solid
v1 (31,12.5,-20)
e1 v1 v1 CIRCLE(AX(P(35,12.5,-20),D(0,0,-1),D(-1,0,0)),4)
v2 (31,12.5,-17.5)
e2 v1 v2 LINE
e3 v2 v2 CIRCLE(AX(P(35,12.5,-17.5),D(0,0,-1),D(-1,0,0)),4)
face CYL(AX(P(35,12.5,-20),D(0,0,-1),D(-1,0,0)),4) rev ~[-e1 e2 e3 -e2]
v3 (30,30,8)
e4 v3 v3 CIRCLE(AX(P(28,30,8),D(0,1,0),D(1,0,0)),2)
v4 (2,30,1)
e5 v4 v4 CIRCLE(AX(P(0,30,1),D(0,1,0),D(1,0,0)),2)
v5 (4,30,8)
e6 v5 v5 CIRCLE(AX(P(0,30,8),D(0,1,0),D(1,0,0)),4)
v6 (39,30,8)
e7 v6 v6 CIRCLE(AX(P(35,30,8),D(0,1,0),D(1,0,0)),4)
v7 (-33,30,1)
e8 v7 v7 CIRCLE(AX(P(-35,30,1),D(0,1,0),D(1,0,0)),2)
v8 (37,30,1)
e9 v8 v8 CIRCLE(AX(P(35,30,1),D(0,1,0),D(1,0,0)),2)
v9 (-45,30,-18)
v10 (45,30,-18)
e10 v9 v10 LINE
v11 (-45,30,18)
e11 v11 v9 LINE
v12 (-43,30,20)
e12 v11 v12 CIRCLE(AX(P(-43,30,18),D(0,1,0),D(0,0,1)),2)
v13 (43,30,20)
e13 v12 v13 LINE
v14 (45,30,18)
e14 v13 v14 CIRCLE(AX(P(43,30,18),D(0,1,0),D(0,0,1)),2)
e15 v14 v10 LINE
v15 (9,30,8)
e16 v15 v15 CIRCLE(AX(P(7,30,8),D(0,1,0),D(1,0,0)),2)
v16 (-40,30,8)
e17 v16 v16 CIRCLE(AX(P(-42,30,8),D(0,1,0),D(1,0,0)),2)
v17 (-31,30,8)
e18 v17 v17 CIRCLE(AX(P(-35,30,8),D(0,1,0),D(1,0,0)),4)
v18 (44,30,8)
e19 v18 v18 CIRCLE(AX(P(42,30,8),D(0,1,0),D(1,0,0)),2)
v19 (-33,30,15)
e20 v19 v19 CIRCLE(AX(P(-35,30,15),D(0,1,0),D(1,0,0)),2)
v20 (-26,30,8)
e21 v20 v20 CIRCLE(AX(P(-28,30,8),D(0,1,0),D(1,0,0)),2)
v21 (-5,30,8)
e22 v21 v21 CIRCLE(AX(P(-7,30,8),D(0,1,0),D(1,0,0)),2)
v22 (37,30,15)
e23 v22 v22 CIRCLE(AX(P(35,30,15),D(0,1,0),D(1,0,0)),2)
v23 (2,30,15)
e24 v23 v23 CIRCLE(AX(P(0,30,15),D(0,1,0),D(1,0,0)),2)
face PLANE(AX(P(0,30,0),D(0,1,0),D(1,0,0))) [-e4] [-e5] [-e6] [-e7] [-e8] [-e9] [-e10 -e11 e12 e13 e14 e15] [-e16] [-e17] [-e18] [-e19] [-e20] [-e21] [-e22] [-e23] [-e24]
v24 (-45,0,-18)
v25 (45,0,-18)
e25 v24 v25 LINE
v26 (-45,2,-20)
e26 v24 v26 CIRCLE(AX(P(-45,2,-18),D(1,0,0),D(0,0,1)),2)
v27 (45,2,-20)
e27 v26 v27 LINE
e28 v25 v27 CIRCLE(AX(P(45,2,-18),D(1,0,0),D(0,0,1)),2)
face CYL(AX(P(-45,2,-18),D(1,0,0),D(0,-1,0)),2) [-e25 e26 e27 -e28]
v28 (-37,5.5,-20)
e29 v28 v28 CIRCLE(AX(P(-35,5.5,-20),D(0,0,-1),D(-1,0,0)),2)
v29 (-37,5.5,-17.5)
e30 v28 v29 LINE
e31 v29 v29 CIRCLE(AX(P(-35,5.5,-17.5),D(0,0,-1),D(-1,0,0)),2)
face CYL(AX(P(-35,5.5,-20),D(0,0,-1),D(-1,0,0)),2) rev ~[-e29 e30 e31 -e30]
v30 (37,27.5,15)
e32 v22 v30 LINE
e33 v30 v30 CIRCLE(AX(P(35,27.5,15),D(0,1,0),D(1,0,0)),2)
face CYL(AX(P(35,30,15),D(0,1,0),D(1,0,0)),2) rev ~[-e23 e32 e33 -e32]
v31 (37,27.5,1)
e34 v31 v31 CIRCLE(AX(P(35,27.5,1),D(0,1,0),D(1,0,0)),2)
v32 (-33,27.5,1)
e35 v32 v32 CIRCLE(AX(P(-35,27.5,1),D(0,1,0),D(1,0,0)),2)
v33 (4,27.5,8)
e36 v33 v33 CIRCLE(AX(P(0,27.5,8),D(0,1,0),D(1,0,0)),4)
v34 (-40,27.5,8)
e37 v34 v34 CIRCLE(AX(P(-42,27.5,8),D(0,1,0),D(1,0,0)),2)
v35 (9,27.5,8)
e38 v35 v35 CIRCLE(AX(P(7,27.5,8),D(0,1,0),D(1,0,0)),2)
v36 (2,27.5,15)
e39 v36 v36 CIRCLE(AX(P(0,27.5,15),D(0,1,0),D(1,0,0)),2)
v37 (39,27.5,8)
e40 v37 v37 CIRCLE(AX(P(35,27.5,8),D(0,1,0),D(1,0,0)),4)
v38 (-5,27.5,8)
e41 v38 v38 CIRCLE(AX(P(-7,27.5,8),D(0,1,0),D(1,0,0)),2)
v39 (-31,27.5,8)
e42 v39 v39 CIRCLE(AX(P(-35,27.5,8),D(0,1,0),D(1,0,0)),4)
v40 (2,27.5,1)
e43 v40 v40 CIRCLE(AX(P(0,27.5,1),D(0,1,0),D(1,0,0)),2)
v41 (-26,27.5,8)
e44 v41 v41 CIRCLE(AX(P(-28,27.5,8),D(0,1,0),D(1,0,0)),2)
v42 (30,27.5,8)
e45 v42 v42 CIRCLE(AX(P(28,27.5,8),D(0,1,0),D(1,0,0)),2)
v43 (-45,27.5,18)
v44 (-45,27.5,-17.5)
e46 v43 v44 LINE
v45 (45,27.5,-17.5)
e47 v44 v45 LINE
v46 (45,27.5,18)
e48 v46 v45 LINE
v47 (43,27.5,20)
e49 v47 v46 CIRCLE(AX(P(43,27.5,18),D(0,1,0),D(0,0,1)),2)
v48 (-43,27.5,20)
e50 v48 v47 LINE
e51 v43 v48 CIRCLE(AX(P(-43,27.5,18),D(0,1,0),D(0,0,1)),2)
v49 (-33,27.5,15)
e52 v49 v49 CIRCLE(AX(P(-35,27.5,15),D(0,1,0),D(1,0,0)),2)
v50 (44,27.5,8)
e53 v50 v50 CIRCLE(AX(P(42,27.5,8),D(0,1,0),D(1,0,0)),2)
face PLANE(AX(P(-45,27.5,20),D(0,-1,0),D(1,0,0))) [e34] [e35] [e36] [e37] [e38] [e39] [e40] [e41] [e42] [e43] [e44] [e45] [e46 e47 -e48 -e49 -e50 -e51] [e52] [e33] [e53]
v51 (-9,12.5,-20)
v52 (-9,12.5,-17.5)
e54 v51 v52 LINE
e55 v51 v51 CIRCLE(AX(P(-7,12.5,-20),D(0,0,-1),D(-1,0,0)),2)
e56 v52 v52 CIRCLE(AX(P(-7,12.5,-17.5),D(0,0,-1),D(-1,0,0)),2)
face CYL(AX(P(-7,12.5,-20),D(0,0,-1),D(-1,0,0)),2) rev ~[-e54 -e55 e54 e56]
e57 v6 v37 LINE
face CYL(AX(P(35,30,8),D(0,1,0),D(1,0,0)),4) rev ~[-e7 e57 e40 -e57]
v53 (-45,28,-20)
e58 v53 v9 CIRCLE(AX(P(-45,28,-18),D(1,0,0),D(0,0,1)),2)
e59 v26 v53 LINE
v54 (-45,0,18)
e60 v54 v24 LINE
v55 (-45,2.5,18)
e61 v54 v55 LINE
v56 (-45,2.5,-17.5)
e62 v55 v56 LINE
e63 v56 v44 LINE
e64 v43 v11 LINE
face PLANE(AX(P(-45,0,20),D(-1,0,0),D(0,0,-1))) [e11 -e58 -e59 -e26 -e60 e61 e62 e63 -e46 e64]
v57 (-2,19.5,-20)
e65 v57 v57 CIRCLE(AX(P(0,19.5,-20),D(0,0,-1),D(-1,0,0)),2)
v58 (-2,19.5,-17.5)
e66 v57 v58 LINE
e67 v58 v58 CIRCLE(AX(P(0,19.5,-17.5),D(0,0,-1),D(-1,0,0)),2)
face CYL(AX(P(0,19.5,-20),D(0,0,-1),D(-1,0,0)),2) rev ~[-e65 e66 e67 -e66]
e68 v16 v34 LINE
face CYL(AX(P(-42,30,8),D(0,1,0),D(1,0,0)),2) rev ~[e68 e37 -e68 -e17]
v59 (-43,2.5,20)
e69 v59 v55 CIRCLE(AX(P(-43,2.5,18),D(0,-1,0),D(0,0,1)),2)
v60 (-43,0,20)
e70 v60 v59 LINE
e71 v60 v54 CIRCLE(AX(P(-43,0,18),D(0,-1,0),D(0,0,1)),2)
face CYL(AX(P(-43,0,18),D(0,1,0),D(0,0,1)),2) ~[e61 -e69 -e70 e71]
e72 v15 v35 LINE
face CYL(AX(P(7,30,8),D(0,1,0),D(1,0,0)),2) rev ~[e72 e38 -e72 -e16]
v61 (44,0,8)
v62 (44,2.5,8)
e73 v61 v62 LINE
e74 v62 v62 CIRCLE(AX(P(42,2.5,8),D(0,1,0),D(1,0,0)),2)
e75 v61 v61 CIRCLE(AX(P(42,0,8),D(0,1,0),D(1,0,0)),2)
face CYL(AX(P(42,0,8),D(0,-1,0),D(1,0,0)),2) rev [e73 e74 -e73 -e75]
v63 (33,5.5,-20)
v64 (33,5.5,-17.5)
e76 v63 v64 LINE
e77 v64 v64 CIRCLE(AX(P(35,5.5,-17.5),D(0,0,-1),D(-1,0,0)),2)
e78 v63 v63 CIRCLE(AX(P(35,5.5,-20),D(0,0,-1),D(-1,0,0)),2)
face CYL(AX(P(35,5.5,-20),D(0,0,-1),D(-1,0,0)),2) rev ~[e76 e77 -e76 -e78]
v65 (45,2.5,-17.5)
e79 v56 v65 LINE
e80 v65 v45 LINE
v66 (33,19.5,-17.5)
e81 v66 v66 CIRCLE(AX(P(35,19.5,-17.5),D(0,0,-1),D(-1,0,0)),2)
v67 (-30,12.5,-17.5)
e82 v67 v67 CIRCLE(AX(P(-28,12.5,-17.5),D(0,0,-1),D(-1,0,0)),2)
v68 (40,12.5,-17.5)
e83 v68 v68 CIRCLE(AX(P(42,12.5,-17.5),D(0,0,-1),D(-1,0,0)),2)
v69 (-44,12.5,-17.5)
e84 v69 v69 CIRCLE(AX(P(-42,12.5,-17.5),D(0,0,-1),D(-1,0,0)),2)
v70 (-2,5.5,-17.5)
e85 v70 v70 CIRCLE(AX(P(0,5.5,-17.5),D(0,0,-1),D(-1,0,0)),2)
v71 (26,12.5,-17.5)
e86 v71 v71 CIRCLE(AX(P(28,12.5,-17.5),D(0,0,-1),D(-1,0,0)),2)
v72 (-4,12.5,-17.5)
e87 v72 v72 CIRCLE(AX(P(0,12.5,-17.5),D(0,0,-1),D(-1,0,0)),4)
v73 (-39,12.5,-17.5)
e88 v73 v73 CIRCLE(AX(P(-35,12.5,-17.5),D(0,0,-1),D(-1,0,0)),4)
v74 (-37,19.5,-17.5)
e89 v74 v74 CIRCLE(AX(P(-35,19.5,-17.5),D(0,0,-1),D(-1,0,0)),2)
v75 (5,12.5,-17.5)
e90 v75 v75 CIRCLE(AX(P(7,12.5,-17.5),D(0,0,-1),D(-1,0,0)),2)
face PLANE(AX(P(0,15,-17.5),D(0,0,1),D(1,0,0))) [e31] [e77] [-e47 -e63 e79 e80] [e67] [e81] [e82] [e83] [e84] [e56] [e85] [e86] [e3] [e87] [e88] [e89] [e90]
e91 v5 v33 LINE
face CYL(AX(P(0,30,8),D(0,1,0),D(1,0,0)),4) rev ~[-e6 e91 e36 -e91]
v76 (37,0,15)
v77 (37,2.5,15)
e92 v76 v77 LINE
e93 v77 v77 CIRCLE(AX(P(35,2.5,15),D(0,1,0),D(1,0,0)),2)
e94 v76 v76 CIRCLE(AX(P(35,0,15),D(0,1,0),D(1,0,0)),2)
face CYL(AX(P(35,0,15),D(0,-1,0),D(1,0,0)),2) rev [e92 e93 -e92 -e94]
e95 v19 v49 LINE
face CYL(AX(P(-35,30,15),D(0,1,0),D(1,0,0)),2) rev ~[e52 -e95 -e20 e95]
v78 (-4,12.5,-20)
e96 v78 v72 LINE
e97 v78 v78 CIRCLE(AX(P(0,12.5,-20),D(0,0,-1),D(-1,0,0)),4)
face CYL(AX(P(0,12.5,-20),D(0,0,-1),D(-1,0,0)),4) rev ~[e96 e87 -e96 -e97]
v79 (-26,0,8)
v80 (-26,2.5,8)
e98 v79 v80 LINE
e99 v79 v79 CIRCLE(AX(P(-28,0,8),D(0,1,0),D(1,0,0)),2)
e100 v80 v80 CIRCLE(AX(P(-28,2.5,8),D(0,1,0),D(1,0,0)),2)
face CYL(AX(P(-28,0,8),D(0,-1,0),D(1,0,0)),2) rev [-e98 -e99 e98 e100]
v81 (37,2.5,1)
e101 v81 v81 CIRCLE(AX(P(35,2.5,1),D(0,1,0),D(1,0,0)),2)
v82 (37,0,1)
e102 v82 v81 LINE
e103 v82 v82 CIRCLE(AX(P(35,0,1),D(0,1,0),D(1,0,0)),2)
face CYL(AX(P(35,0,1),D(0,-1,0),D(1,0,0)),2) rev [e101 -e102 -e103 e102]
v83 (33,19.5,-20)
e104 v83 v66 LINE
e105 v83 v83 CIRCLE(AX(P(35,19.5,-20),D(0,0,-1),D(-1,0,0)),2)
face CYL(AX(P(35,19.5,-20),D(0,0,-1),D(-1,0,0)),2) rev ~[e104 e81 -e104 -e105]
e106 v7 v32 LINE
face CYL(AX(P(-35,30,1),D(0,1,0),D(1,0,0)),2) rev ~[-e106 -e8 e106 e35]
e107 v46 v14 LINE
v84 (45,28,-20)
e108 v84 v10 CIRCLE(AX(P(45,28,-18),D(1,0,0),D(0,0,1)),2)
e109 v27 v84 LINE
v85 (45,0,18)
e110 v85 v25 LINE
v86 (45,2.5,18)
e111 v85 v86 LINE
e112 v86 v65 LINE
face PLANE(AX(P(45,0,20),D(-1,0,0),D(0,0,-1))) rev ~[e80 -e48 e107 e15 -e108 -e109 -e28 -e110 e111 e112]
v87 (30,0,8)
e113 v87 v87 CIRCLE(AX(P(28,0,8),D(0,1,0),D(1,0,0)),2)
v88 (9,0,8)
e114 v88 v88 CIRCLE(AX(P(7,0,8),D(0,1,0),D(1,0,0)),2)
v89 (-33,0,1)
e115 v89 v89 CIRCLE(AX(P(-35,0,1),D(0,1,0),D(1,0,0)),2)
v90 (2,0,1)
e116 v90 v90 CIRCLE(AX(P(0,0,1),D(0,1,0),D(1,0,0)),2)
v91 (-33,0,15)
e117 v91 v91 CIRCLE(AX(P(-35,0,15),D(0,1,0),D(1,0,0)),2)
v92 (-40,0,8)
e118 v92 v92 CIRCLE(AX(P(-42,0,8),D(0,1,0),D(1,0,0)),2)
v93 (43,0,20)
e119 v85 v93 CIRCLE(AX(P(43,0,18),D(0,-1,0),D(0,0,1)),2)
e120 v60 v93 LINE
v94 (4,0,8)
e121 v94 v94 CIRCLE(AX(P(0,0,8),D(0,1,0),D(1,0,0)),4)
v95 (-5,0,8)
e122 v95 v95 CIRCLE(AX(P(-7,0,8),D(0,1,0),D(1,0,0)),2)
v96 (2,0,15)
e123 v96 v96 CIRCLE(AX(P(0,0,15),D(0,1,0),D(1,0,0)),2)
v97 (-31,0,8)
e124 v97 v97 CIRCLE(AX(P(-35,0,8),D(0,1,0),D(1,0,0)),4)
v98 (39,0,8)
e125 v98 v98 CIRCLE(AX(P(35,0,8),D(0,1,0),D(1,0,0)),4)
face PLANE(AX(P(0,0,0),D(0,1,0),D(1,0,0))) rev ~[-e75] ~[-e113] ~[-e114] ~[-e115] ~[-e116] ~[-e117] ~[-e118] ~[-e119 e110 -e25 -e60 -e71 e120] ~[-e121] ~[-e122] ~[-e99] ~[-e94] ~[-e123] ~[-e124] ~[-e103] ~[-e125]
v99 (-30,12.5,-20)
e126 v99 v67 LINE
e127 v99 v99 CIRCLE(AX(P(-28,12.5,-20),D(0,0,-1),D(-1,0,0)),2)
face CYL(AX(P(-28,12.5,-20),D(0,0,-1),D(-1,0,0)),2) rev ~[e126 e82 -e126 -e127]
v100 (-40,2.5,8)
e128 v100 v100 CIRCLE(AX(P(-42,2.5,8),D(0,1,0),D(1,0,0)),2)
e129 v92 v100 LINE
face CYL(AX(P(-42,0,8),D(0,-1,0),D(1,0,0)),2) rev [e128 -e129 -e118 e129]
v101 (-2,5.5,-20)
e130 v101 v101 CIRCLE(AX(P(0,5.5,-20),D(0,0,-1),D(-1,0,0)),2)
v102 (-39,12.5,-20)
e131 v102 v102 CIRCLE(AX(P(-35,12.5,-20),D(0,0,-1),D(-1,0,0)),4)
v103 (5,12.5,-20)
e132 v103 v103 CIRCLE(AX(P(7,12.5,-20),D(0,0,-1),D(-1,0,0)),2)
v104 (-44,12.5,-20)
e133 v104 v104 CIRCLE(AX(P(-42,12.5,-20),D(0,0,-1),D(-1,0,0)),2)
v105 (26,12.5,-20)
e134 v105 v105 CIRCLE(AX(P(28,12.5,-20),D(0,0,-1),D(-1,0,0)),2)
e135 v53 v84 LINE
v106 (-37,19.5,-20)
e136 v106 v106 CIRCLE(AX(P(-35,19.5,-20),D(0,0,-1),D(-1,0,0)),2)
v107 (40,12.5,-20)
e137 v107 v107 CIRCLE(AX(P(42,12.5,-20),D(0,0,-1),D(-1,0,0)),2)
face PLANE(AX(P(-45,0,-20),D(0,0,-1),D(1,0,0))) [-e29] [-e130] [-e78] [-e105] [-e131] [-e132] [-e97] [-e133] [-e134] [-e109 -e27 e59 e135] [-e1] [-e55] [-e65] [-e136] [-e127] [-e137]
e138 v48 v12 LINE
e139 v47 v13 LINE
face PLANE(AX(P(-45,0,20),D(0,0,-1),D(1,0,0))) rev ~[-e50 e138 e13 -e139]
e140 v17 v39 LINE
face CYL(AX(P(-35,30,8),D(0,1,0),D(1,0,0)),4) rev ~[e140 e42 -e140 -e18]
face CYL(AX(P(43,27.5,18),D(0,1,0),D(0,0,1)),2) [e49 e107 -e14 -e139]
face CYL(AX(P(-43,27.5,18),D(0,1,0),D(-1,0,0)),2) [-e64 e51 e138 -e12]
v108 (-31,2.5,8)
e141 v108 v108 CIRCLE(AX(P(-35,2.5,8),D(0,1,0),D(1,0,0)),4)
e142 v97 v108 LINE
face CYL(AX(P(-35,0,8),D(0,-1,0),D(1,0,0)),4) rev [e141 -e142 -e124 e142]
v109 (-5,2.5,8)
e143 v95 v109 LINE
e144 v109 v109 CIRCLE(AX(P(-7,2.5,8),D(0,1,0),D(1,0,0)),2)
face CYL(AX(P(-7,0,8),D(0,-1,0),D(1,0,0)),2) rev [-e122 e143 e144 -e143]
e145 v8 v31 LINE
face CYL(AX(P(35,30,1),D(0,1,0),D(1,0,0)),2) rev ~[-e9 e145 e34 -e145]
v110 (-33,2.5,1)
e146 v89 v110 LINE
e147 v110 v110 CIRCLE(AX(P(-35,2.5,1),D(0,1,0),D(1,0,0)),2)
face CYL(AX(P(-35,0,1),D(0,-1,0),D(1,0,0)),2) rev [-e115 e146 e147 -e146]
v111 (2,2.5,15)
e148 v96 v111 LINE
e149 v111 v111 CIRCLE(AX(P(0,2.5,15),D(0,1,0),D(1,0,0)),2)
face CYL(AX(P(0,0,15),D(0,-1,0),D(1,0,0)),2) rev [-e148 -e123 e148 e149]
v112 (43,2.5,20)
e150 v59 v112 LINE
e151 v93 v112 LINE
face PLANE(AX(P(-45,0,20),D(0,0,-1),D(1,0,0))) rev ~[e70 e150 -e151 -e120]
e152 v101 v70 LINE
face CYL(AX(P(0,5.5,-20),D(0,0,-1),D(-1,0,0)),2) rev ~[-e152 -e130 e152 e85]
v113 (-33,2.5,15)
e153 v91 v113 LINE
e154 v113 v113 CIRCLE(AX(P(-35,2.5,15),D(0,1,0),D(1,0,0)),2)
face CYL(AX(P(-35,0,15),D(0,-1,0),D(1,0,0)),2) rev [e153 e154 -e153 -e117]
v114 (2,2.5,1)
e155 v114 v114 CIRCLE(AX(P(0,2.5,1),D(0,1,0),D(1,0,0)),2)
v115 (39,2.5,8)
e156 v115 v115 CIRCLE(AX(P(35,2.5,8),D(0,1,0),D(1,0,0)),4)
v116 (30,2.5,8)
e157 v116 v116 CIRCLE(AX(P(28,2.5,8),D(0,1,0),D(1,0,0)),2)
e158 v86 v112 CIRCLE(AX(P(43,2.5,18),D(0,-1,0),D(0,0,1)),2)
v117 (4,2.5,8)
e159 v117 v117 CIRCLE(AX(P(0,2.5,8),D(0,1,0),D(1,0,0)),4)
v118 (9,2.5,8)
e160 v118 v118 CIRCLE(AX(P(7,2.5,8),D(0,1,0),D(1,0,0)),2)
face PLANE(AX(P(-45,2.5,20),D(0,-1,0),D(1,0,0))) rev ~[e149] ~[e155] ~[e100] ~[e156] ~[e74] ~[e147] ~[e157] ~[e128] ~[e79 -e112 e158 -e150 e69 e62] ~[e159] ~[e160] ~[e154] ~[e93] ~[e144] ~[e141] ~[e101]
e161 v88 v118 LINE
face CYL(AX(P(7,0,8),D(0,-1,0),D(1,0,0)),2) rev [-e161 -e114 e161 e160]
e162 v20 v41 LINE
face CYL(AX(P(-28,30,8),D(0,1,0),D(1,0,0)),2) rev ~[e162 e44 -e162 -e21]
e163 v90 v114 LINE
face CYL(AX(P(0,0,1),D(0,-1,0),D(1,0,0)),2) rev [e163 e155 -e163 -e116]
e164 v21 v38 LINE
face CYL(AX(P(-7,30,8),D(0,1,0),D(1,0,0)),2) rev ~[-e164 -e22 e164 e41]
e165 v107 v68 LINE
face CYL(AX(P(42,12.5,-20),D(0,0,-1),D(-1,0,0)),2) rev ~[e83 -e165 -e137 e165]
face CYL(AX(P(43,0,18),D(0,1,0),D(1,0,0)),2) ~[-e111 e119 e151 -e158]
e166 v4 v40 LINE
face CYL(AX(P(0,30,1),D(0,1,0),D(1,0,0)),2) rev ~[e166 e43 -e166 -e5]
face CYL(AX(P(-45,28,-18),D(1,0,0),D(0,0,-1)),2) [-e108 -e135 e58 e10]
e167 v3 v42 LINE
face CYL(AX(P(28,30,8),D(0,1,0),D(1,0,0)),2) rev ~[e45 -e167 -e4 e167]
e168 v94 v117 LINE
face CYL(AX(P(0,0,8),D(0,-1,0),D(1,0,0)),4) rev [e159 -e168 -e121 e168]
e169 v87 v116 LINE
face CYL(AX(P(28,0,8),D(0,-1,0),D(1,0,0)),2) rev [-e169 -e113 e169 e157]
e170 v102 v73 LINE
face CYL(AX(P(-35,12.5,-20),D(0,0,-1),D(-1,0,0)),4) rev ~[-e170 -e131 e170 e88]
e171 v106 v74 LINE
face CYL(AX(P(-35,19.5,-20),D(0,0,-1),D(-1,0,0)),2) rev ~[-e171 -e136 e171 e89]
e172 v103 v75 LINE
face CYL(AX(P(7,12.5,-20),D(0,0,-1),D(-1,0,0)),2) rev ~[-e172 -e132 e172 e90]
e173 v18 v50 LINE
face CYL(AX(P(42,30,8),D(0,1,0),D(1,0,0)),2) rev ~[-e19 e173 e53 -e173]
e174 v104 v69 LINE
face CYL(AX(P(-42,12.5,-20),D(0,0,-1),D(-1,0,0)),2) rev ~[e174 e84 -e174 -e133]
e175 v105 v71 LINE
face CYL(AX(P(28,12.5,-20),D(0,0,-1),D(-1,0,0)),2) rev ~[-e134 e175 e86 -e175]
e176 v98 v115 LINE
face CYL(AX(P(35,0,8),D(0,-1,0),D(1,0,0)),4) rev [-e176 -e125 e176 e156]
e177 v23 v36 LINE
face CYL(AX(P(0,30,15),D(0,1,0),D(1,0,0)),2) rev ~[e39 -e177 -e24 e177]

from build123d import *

# Parameters (mm, degrees)
SKETCH_1_W          = 90
SKETCH_1_H          = 40
EXTRUDE_1_DEPTH     = 30
SKETCH_2_W          = 90
SKETCH_2_H          = 25
CUT_EXTRUDE_1_DEPTH = 37.5
SKETCH_3_R          = 4
SKETCH_3_R_2        = 2
CUT_EXTRUDE_2_DEPTH = 2.5
CUT_EXTRUDE_3_REACH = 42
SKETCH_4_R          = 4
SKETCH_4_R_2        = 2
FILLET_1_R          = 2
FILLET_2_R          = 2
FILLET_3_R          = 2
FILLET_4_R          = 2
FILLET_5_R          = 2
FILLET_6_R          = 2


with BuildPart() as part:
    # 草图1 → 凸台-拉伸1 (new body)
    with BuildSketch(Plane(origin=(0, 0, 0), x_dir=(1, 0, 0), z_dir=(0, 1, 0))):
        Rectangle(SKETCH_1_W, SKETCH_1_H)
    extrude(amount=EXTRUDE_1_DEPTH)

    # 草图2 → 切除-拉伸1 (cut)
    with BuildSketch(Plane.XY.offset(20)):
        with Locations((0, 15)):
            Rectangle(SKETCH_2_W, SKETCH_2_H)
    extrude(amount=-CUT_EXTRUDE_1_DEPTH, mode=Mode.SUBTRACT)

    # 草图3 → 切除-拉伸2 (cut)
    with BuildSketch(Plane(origin=(0, 30, 0), x_dir=(1, 0, 0), z_dir=(0, 1, 0))):
        with Locations((35, -8)):
            Circle(SKETCH_3_R)
        with Locations((42, -8)):
            Circle(SKETCH_3_R_2)
        with Locations((35, -15)):
            Circle(SKETCH_3_R_2)
        with Locations((28, -8)):
            Circle(SKETCH_3_R_2)
        with Locations((35, -1)):
            Circle(SKETCH_3_R_2)
        with Locations((0, -8)):
            Circle(SKETCH_3_R)
        with Locations((-7, -8)):
            Circle(SKETCH_3_R_2)
        with Locations((0, -1)):
            Circle(SKETCH_3_R_2)
        with Locations((0, -15)):
            Circle(SKETCH_3_R_2)
        with Locations((7, -8)):
            Circle(SKETCH_3_R_2)
        with Locations((-35, -8)):
            Circle(SKETCH_3_R)
        with Locations((-42, -8)):
            Circle(SKETCH_3_R_2)
        with Locations((-35, -1)):
            Circle(SKETCH_3_R_2)
        with Locations((-35, -15)):
            Circle(SKETCH_3_R_2)
        with Locations((-28, -8)):
            Circle(SKETCH_3_R_2)
    cut_extrude_2 = extrude(amount=-CUT_EXTRUDE_2_DEPTH, mode=Mode.SUBTRACT)

    # 镜向1: 切除-拉伸2 across plane
    add(cut_extrude_2.mirror(Plane(origin=(0, 15, 0), x_dir=(0, 0, 1), z_dir=(0, -1, 0))), mode=Mode.SUBTRACT)

    # 草图4 → 切除-拉伸3 (cut, up to next)
    with BuildSketch(Plane(origin=(0, 0, -20), x_dir=(-1, 0, 0), z_dir=(0, 0, -1)), mode=Mode.PRIVATE) as cut_extrude_3_sk1:
        with Locations((35, 12.5)):
            Circle(SKETCH_4_R)
    cut_extrude_3_tool1 = extrude(cut_extrude_3_sk1.sketch, amount=-CUT_EXTRUDE_3_REACH, mode=Mode.PRIVATE) & part.part
    add(cut_extrude_3_tool1.solids().sort_by_distance((-35, 12.5, -20))[0], mode=Mode.SUBTRACT)
    # 草图4 → 切除-拉伸3 (cut, up to next)
    with BuildSketch(Plane(origin=(0, 0, -20), x_dir=(-1, 0, 0), z_dir=(0, 0, -1)), mode=Mode.PRIVATE) as cut_extrude_3_sk2:
        with Locations((42, 12.5)):
            Circle(SKETCH_4_R_2)
    cut_extrude_3_tool2 = extrude(cut_extrude_3_sk2.sketch, amount=-CUT_EXTRUDE_3_REACH, mode=Mode.PRIVATE) & part.part
    add(cut_extrude_3_tool2.solids().sort_by_distance((-42, 12.5, -20))[0], mode=Mode.SUBTRACT)
    # 草图4 → 切除-拉伸3 (cut, up to next)
    with BuildSketch(Plane(origin=(0, 0, -20), x_dir=(-1, 0, 0), z_dir=(0, 0, -1)), mode=Mode.PRIVATE) as cut_extrude_3_sk3:
        with Locations((35, 5.5)):
            Circle(SKETCH_4_R_2)
    cut_extrude_3_tool3 = extrude(cut_extrude_3_sk3.sketch, amount=-CUT_EXTRUDE_3_REACH, mode=Mode.PRIVATE) & part.part
    add(cut_extrude_3_tool3.solids().sort_by_distance((-35, 5.5, -20))[0], mode=Mode.SUBTRACT)
    # 草图4 → 切除-拉伸3 (cut, up to next)
    with BuildSketch(Plane(origin=(0, 0, -20), x_dir=(-1, 0, 0), z_dir=(0, 0, -1)), mode=Mode.PRIVATE) as cut_extrude_3_sk4:
        with Locations((28, 12.5)):
            Circle(SKETCH_4_R_2)
    cut_extrude_3_tool4 = extrude(cut_extrude_3_sk4.sketch, amount=-CUT_EXTRUDE_3_REACH, mode=Mode.PRIVATE) & part.part
    add(cut_extrude_3_tool4.solids().sort_by_distance((-28, 12.5, -20))[0], mode=Mode.SUBTRACT)
    # 草图4 → 切除-拉伸3 (cut, up to next)
    with BuildSketch(Plane(origin=(0, 0, -20), x_dir=(-1, 0, 0), z_dir=(0, 0, -1)), mode=Mode.PRIVATE) as cut_extrude_3_sk5:
        with Locations((35, 19.5)):
            Circle(SKETCH_4_R_2)
    cut_extrude_3_tool5 = extrude(cut_extrude_3_sk5.sketch, amount=-CUT_EXTRUDE_3_REACH, mode=Mode.PRIVATE) & part.part
    add(cut_extrude_3_tool5.solids().sort_by_distance((-35, 19.5, -20))[0], mode=Mode.SUBTRACT)
    # 草图4 → 切除-拉伸3 (cut, up to next)
    with BuildSketch(Plane(origin=(0, 0, -20), x_dir=(-1, 0, 0), z_dir=(0, 0, -1)), mode=Mode.PRIVATE) as cut_extrude_3_sk6:
        with Locations((7, 12.5)):
            Circle(SKETCH_4_R_2)
    cut_extrude_3_tool6 = extrude(cut_extrude_3_sk6.sketch, amount=-CUT_EXTRUDE_3_REACH, mode=Mode.PRIVATE) & part.part
    add(cut_extrude_3_tool6.solids().sort_by_distance((-7, 12.5, -20))[0], mode=Mode.SUBTRACT)
    # 草图4 → 切除-拉伸3 (cut, up to next)
    with BuildSketch(Plane(origin=(0, 0, -20), x_dir=(-1, 0, 0), z_dir=(0, 0, -1)), mode=Mode.PRIVATE) as cut_extrude_3_sk7:
        with Locations((0, 12.5)):
            Circle(SKETCH_4_R)
    cut_extrude_3_tool7 = extrude(cut_extrude_3_sk7.sketch, amount=-CUT_EXTRUDE_3_REACH, mode=Mode.PRIVATE) & part.part
    add(cut_extrude_3_tool7.solids().sort_by_distance((0, 12.5, -20))[0], mode=Mode.SUBTRACT)
    # 草图4 → 切除-拉伸3 (cut, up to next)
    with BuildSketch(Plane(origin=(0, 0, -20), x_dir=(-1, 0, 0), z_dir=(0, 0, -1)), mode=Mode.PRIVATE) as cut_extrude_3_sk8:
        with Locations((-7, 12.5)):
            Circle(SKETCH_4_R_2)
    cut_extrude_3_tool8 = extrude(cut_extrude_3_sk8.sketch, amount=-CUT_EXTRUDE_3_REACH, mode=Mode.PRIVATE) & part.part
    add(cut_extrude_3_tool8.solids().sort_by_distance((7, 12.5, -20))[0], mode=Mode.SUBTRACT)
    # 草图4 → 切除-拉伸3 (cut, up to next)
    with BuildSketch(Plane(origin=(0, 0, -20), x_dir=(-1, 0, 0), z_dir=(0, 0, -1)), mode=Mode.PRIVATE) as cut_extrude_3_sk9:
        with Locations((0, 5.5)):
            Circle(SKETCH_4_R_2)
    cut_extrude_3_tool9 = extrude(cut_extrude_3_sk9.sketch, amount=-CUT_EXTRUDE_3_REACH, mode=Mode.PRIVATE) & part.part
    add(cut_extrude_3_tool9.solids().sort_by_distance((0, 5.5, -20))[0], mode=Mode.SUBTRACT)
    # 草图4 → 切除-拉伸3 (cut, up to next)
    with BuildSketch(Plane(origin=(0, 0, -20), x_dir=(-1, 0, 0), z_dir=(0, 0, -1)), mode=Mode.PRIVATE) as cut_extrude_3_sk10:
        with Locations((0, 19.5)):
            Circle(SKETCH_4_R_2)
    cut_extrude_3_tool10 = extrude(cut_extrude_3_sk10.sketch, amount=-CUT_EXTRUDE_3_REACH, mode=Mode.PRIVATE) & part.part
    add(cut_extrude_3_tool10.solids().sort_by_distance((0, 19.5, -20))[0], mode=Mode.SUBTRACT)
    # 草图4 → 切除-拉伸3 (cut, up to next)
    with BuildSketch(Plane(origin=(0, 0, -20), x_dir=(-1, 0, 0), z_dir=(0, 0, -1)), mode=Mode.PRIVATE) as cut_extrude_3_sk11:
        with Locations((-28, 12.5)):
            Circle(SKETCH_4_R_2)
    cut_extrude_3_tool11 = extrude(cut_extrude_3_sk11.sketch, amount=-CUT_EXTRUDE_3_REACH, mode=Mode.PRIVATE) & part.part
    add(cut_extrude_3_tool11.solids().sort_by_distance((28, 12.5, -20))[0], mode=Mode.SUBTRACT)
    # 草图4 → 切除-拉伸3 (cut, up to next)
    with BuildSketch(Plane(origin=(0, 0, -20), x_dir=(-1, 0, 0), z_dir=(0, 0, -1)), mode=Mode.PRIVATE) as cut_extrude_3_sk12:
        with Locations((-35, 12.5)):
            Circle(SKETCH_4_R)
    cut_extrude_3_tool12 = extrude(cut_extrude_3_sk12.sketch, amount=-CUT_EXTRUDE_3_REACH, mode=Mode.PRIVATE) & part.part
    add(cut_extrude_3_tool12.solids().sort_by_distance((35, 12.5, -20))[0], mode=Mode.SUBTRACT)
    # 草图4 → 切除-拉伸3 (cut, up to next)
    with BuildSketch(Plane(origin=(0, 0, -20), x_dir=(-1, 0, 0), z_dir=(0, 0, -1)), mode=Mode.PRIVATE) as cut_extrude_3_sk13:
        with Locations((-42, 12.5)):
            Circle(SKETCH_4_R_2)
    cut_extrude_3_tool13 = extrude(cut_extrude_3_sk13.sketch, amount=-CUT_EXTRUDE_3_REACH, mode=Mode.PRIVATE) & part.part
    add(cut_extrude_3_tool13.solids().sort_by_distance((42, 12.5, -20))[0], mode=Mode.SUBTRACT)
    # 草图4 → 切除-拉伸3 (cut, up to next)
    with BuildSketch(Plane(origin=(0, 0, -20), x_dir=(-1, 0, 0), z_dir=(0, 0, -1)), mode=Mode.PRIVATE) as cut_extrude_3_sk14:
        with Locations((-35, 5.5)):
            Circle(SKETCH_4_R_2)
    cut_extrude_3_tool14 = extrude(cut_extrude_3_sk14.sketch, amount=-CUT_EXTRUDE_3_REACH, mode=Mode.PRIVATE) & part.part
    add(cut_extrude_3_tool14.solids().sort_by_distance((35, 5.5, -20))[0], mode=Mode.SUBTRACT)
    # 草图4 → 切除-拉伸3 (cut, up to next)
    with BuildSketch(Plane(origin=(0, 0, -20), x_dir=(-1, 0, 0), z_dir=(0, 0, -1)), mode=Mode.PRIVATE) as cut_extrude_3_sk15:
        with Locations((-35, 19.5)):
            Circle(SKETCH_4_R_2)
    cut_extrude_3_tool15 = extrude(cut_extrude_3_sk15.sketch, amount=-CUT_EXTRUDE_3_REACH, mode=Mode.PRIVATE) & part.part
    add(cut_extrude_3_tool15.solids().sort_by_distance((35, 19.5, -20))[0], mode=Mode.SUBTRACT)

    # 圆角1
    fillet_1_edges = [part.edges().sort_by_distance(p)[0] for p in [
        (-45, 28.75, 20),
    ]]
    fillet(fillet_1_edges, radius=FILLET_1_R)

    # 圆角2
    fillet_2_edges = [part.edges().sort_by_distance(p)[0] for p in [
        (45, 28.75, 20),
    ]]
    fillet(fillet_2_edges, radius=FILLET_2_R)

    # 圆角3
    fillet_3_edges = [part.edges().sort_by_distance(p)[0] for p in [
        (45, 1.25, 20),
    ]]
    fillet(fillet_3_edges, radius=FILLET_3_R)

    # 圆角4
    fillet_4_edges = [part.edges().sort_by_distance(p)[0] for p in [
        (-45, 1.25, 20),
    ]]
    fillet(fillet_4_edges, radius=FILLET_4_R)

    # 圆角5
    fillet_5_edges = [part.edges().sort_by_distance(p)[0] for p in [
        (0, 0, -20),
    ]]
    fillet(fillet_5_edges, radius=FILLET_5_R)

    # 圆角6
    fillet_6_edges = [part.edges().sort_by_distance(p)[0] for p in [
        (0, 30, -20),
    ]]
    fillet(fillet_6_edges, radius=FILLET_6_R)


solid = part.part
